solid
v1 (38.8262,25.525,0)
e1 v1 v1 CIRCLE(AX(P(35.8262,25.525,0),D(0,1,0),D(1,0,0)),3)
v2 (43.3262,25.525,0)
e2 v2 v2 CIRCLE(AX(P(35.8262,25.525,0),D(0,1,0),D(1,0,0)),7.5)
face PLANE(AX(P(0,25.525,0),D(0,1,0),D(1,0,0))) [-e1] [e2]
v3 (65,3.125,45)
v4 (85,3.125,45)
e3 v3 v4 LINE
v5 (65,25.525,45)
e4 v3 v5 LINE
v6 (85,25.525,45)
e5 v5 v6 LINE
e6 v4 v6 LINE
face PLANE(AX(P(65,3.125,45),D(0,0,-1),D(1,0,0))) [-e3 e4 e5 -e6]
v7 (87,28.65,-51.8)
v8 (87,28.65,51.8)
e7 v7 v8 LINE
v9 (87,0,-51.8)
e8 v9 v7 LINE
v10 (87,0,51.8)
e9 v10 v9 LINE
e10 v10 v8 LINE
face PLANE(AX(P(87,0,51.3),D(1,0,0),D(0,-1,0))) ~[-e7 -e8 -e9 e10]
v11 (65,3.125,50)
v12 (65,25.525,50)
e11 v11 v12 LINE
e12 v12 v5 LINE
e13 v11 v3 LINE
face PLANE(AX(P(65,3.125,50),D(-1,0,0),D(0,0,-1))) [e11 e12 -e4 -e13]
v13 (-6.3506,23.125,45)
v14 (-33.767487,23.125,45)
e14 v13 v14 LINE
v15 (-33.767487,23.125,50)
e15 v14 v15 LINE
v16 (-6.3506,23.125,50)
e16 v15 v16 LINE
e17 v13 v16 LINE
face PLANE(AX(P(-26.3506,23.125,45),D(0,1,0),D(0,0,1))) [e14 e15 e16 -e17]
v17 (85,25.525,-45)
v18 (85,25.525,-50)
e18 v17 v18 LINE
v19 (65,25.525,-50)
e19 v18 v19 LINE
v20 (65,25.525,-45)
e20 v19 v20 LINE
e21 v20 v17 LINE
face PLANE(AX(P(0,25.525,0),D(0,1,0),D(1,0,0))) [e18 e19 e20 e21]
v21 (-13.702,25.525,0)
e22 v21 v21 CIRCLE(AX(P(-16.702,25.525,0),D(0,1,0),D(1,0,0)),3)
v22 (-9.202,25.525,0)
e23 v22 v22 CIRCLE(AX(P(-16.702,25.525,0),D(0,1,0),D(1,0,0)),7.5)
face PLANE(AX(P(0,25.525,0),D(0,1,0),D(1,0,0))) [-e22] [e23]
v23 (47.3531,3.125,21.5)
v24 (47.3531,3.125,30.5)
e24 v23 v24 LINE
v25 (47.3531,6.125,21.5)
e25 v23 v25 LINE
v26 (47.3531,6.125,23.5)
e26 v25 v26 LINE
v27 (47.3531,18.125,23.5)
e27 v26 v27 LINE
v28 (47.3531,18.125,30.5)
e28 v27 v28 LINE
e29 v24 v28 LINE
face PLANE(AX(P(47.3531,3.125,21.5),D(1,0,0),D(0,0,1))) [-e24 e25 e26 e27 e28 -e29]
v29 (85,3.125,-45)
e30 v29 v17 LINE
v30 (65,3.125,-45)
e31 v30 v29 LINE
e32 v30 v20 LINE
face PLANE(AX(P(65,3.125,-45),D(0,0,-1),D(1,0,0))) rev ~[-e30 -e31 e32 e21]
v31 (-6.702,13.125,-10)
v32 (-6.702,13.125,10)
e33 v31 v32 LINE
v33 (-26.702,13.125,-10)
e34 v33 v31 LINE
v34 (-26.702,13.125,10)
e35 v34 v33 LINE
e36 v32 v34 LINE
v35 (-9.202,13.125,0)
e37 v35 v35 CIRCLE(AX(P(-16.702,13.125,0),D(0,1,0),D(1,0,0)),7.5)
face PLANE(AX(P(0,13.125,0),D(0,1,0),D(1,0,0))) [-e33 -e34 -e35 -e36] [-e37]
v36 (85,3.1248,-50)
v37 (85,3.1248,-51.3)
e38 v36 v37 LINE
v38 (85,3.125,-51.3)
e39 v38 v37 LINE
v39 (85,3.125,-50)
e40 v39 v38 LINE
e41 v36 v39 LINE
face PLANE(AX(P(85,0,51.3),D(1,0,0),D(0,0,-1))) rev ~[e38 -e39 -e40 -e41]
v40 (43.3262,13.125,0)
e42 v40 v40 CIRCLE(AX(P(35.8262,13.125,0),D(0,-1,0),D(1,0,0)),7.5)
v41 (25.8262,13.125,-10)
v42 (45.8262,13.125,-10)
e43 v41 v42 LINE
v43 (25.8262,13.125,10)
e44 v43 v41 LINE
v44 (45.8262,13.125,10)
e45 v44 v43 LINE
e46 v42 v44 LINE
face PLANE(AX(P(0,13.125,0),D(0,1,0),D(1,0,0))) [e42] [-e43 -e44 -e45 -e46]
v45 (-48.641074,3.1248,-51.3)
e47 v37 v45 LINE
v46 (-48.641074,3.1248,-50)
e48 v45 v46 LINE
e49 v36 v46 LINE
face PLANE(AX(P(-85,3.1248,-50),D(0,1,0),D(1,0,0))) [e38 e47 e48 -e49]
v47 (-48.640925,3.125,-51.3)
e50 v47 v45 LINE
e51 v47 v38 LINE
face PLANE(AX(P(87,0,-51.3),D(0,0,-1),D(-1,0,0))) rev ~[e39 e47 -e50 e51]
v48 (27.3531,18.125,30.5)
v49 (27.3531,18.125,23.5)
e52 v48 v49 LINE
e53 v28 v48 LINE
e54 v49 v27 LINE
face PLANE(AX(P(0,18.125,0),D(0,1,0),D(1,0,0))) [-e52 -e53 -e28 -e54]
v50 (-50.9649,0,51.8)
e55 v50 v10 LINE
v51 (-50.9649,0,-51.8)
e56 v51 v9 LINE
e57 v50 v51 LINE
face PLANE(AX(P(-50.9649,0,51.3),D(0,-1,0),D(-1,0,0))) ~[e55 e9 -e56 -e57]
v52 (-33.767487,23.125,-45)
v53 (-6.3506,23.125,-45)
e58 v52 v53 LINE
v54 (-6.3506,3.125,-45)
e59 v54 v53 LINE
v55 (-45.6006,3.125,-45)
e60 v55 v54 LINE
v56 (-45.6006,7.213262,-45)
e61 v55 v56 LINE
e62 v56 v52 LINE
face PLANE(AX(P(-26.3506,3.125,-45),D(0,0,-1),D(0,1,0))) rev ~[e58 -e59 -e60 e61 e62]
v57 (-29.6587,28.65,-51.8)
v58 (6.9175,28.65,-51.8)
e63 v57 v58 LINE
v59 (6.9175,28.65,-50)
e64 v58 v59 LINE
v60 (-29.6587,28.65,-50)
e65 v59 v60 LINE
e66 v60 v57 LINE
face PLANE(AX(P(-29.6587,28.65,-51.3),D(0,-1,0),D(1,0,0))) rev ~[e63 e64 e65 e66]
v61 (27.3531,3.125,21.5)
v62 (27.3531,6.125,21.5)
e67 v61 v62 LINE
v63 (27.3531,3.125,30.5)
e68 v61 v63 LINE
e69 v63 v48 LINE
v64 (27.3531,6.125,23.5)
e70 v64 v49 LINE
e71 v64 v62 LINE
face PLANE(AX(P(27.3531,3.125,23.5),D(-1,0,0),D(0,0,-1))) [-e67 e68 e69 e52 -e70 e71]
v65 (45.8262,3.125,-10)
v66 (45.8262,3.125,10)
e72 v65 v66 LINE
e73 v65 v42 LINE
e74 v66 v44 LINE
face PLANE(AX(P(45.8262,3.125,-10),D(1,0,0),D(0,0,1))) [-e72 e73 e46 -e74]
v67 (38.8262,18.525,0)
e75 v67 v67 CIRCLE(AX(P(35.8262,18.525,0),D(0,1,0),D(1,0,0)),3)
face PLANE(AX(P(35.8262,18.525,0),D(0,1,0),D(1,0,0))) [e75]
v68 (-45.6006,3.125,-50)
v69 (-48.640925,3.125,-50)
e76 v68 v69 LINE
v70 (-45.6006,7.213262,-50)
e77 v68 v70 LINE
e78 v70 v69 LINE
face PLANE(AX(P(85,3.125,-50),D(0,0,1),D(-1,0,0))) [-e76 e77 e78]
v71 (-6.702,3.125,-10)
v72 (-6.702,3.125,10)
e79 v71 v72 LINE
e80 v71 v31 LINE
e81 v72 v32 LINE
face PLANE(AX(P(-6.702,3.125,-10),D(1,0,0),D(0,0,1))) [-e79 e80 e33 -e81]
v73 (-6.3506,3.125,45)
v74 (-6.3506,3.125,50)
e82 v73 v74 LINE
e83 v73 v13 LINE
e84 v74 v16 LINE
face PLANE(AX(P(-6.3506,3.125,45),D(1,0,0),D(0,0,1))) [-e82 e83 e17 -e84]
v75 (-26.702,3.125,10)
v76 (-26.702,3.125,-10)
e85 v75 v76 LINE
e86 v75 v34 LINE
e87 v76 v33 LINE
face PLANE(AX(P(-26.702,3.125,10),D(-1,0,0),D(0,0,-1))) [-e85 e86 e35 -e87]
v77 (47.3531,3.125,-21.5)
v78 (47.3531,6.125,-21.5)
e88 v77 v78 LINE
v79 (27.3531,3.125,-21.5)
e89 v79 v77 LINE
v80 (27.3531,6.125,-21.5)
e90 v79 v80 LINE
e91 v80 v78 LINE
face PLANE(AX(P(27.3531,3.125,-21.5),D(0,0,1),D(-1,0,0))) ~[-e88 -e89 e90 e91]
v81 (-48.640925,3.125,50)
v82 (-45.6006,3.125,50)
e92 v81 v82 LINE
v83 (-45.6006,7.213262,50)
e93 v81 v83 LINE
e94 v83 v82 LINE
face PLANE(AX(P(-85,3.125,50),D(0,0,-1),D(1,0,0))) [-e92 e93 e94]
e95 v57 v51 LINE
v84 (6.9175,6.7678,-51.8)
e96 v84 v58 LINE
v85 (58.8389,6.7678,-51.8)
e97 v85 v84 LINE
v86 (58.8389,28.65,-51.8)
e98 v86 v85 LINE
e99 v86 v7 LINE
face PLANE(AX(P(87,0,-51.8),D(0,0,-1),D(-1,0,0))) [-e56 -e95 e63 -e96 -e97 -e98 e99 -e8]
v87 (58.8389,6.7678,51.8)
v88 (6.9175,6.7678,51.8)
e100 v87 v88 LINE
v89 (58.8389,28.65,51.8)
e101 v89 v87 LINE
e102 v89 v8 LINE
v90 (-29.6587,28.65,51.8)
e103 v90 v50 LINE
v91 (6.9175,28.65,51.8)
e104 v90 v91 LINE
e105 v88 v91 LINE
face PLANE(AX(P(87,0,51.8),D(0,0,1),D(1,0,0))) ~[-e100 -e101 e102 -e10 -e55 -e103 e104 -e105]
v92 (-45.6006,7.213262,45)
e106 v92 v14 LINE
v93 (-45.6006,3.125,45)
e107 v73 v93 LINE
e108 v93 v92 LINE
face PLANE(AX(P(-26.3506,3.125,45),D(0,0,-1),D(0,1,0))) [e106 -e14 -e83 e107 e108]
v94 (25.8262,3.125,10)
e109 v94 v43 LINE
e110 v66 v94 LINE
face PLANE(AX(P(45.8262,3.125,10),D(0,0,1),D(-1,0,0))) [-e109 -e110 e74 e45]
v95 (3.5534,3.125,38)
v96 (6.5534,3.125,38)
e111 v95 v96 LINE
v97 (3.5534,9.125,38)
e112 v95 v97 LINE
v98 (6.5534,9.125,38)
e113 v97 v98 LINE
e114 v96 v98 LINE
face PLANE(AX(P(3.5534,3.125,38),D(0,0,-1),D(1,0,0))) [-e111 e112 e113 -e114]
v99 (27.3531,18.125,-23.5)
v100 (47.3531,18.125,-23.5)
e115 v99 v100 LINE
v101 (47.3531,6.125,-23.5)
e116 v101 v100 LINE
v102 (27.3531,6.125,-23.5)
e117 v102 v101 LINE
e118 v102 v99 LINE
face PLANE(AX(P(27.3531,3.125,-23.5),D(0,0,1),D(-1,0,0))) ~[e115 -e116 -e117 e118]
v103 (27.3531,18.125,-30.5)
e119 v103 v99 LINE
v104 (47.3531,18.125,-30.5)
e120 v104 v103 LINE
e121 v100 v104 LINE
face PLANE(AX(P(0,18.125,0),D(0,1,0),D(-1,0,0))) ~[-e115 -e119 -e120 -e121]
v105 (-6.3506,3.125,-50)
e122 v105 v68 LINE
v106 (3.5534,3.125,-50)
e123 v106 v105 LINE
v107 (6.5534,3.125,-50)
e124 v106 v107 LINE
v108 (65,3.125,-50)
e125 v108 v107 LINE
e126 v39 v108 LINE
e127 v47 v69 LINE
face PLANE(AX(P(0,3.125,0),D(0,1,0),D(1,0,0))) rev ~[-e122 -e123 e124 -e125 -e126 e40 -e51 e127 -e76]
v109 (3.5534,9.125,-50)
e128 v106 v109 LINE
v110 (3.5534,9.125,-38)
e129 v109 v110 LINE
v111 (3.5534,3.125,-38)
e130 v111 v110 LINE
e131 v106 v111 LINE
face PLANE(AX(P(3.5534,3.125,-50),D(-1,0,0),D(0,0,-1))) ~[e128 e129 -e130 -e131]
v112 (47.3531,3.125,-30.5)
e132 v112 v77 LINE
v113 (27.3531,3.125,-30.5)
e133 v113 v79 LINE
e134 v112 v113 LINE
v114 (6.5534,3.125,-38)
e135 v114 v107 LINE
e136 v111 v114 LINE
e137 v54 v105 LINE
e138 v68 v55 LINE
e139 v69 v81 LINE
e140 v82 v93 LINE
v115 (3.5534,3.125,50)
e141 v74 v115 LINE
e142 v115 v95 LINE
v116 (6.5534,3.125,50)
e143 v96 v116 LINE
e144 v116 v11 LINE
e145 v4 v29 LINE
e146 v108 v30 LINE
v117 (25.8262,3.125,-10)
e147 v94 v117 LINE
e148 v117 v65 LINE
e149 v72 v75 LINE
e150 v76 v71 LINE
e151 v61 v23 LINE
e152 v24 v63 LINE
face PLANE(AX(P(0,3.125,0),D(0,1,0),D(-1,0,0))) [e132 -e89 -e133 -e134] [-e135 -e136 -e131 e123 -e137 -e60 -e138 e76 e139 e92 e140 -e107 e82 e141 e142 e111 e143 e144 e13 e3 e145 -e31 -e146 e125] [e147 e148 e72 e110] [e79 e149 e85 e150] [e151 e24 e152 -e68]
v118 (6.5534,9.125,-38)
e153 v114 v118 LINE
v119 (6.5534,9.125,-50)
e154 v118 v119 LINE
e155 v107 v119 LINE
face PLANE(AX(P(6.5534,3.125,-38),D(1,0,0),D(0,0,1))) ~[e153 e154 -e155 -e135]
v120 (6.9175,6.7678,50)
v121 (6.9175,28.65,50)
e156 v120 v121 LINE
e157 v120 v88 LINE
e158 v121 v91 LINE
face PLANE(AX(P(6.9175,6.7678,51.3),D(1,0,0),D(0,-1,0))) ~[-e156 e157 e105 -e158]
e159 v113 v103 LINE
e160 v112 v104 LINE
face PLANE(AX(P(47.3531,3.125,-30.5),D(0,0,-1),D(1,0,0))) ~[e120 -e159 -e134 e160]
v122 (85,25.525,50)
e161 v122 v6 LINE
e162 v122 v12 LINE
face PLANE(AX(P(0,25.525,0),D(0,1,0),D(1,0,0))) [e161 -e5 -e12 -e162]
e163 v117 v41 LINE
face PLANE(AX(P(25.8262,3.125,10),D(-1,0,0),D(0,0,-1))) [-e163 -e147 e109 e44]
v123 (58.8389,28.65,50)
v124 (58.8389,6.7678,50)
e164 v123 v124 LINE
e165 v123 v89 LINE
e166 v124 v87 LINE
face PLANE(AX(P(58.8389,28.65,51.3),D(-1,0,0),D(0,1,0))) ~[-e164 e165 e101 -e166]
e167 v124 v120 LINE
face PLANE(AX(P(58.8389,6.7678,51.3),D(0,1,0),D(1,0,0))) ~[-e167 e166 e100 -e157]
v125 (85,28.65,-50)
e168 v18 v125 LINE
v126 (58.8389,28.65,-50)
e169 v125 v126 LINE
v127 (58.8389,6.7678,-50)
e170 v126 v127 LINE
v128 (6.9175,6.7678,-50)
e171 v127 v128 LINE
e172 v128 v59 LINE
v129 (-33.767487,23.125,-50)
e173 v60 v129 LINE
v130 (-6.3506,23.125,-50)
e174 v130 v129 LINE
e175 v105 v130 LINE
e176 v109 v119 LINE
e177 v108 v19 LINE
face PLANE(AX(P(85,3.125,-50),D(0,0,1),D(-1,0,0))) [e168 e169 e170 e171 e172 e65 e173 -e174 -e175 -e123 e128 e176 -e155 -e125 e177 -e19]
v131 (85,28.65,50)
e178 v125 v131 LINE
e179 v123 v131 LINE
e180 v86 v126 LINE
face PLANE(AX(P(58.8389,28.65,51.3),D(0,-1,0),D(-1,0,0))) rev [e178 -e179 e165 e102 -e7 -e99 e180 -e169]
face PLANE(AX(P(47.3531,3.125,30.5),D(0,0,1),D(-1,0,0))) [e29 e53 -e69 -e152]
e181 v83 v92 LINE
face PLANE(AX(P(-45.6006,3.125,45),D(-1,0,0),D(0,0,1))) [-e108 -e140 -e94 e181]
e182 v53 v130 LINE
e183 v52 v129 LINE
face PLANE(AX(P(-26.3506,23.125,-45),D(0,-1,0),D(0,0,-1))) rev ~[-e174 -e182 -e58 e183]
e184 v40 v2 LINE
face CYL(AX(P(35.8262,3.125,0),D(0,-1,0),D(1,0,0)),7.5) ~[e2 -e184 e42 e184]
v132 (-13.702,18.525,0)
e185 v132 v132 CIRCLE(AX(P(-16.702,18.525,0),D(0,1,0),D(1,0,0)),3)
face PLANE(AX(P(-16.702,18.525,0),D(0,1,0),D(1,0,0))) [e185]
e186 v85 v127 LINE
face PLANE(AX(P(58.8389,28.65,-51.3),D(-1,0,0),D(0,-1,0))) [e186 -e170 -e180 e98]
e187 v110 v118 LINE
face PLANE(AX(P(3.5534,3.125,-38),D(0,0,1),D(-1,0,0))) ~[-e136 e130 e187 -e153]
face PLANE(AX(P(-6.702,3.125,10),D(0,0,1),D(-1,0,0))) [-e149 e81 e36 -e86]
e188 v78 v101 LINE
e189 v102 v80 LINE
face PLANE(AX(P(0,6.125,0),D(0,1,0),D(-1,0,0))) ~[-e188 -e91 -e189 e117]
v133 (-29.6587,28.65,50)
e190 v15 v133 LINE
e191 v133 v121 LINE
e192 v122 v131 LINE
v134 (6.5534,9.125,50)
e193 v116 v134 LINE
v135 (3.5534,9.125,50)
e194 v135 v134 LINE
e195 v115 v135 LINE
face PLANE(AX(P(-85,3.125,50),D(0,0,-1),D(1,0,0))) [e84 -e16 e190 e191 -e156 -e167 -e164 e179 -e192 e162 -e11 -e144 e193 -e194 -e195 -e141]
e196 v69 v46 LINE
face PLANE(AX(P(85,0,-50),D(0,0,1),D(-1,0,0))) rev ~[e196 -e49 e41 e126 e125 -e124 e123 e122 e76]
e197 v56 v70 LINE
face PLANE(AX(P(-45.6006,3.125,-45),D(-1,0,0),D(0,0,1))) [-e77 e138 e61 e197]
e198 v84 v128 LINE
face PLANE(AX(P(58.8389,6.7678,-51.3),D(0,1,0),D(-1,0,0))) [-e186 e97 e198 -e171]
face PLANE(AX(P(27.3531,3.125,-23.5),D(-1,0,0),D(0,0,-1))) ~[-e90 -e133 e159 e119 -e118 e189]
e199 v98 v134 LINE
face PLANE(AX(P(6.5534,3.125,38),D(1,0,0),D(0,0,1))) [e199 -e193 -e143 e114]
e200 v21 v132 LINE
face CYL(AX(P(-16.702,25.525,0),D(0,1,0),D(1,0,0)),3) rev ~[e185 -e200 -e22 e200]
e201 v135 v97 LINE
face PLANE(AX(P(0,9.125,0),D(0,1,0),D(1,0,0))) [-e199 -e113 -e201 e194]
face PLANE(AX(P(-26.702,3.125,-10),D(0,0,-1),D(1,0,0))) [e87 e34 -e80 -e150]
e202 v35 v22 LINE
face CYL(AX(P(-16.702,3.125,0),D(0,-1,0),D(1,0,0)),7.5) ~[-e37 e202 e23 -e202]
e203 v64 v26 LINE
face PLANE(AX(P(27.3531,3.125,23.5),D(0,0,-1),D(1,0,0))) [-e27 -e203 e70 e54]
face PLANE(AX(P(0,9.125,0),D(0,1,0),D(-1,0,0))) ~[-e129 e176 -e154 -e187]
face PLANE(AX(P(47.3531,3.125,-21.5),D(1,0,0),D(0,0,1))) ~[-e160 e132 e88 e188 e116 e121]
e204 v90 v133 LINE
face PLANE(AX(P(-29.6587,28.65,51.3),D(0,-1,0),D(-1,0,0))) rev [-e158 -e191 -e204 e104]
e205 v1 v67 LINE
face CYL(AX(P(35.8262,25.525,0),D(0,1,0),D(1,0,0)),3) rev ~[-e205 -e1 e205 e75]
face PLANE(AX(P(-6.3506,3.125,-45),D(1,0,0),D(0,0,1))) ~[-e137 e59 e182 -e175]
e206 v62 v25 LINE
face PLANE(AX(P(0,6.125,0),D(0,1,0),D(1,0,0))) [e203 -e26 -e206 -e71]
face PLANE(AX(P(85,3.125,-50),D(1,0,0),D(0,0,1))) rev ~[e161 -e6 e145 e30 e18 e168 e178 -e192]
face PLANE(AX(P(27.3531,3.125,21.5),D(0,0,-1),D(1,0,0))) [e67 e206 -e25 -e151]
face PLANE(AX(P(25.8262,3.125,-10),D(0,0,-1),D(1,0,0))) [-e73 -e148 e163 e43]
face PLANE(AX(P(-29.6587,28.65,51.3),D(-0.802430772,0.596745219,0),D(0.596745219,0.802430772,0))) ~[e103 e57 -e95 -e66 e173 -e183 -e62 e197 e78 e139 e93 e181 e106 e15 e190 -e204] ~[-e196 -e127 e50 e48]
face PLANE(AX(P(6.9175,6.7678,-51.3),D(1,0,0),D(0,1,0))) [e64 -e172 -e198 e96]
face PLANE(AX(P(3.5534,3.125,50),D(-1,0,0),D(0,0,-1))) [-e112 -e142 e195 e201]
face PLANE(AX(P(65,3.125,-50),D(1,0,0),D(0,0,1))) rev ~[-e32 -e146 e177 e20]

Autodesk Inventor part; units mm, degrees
ref_plane "YZ Plane" through (0, 0, 0) normal (1, 0, 0) x (0, 1, 0)
ref_plane "XZ Plane" through (0, 0, 0) normal (0, 1, 0) x (-1, 0, 0)
ref_plane "XY Plane" through (0, 0, 0) normal (0, 0, 1) x (1, 0, 0)
sketch "Sketch1" plane through (0, 0, 0) normal (0, 1, 0) x (-1, 0, 0)
  line L0 (85, 50) -> (-85, 50)
  line L1 (-85, 50) -> (-85, -50)
  line L2 (-85, -50) -> (85, -50)
  line L3 (85, -50) -> (85, 50)
  line L4 (85, 50) -> (-85, -50) construction
  line L5 (-85, 50) -> (85, -50) construction
  point P0 (0, 0)
  dimension "d0" = 170
  dimension "d1" = 100
extrude "Extrusion1" add sketch "Sketch1" along normal blind 3.125
sketch "Sketch2" plane through (0, 3.125, 0) normal (0, 1, 0) x (1, 0, 0)
  line L0 (-26.702, 10) -> (-6.702, 10)
  line L1 (-6.702, 10) -> (-6.702, -10)
  line L2 (-6.702, -10) -> (-26.702, -10)
  line L3 (-26.702, -10) -> (-26.702, 10)
  line L4 (-26.702, 10) -> (-6.702, -10) construction
  line L5 (-6.702, 10) -> (-26.702, -10) construction
  circle A0 centre (-16.702, 0) radius 7.5
  line L6 (25.8262, 10) -> (45.8262, 10)
  line L7 (45.8262, 10) -> (45.8262, -10)
  line L8 (45.8262, -10) -> (25.8262, -10)
  line L9 (25.8262, -10) -> (25.8262, 10)
  line L10 (25.8262, 10) -> (45.8262, -10) construction
  line L11 (45.8262, 10) -> (25.8262, -10) construction
  circle A1 centre (35.8262, 0) radius 7.5
  line L12 (0.1504, 0) -> (2.6516, 0) construction
  point P0 (0, 0)
  dimension "d13" = 0
  dimension "d4" = 20
  dimension "d5" = 20
  dimension "d6" = 15
  dimension "d14" = 20
  dimension "d15" = 20
  dimension "d16" = 15
extrude "Extrusion2" add sketch "Sketch2" along normal blind 22.4 contours A0 | A1
extrude "Extrusion3" add sketch "Sketch2" along normal blind 10 contours L0 L1 L2 L3 | L6 L7 L8 L9 | A1
sketch "Sketch3" plane through (-16.702, 25.525, 0) normal (0, 1, 0) x (1, 0, 0)
  circle A0 centre (0, 0) radius 3
  point P0 (16.702, 0)
  dimension "d11" = 6
extrude "Extrusion4" cut sketch "Sketch3" against normal blind 7
sketch "Sketch4" plane through (35.8262, 25.525, 0) normal (0, 1, 0) x (1, 0, 0)
  circle A0 centre (0, 0) radius 3
  point P0 (-35.8262, 0)
  dimension "d17" = 6
extrude "Extrusion5" cut sketch "Sketch4" against normal blind 7
sketch "Sketch5" plane through (0, 3.125, 0) normal (0, 1, 0) x (1, 0, 0)
  line L0 (85, 50) -> (-85, 50) projected
  line L1 (-85, 50) -> (85, 50)
  line L2 (85, 50) -> (85, 51.3)
  line L3 (85, 51.3) -> (-85, 51.3)
  line L4 (-85, 51.3) -> (-85, 50)
  line L5 (-85, -50) -> (85, -50) projected
  line L6 (-85, -50) -> (85, -50)
  line L7 (85, -50) -> (85, -51.3)
  line L8 (85, -51.3) -> (-85, -51.3)
  line L9 (-85, -51.3) -> (-85, -50)
  line L10 (85, -51.3) -> (87, -51.3)
  line L11 (87, -51.3) -> (87, 51.3)
  line L12 (87, 51.3) -> (85, 51.3)
  line L13 (85, 51.3) -> (85, -51.3)
  point P0 (0, 0)
  point P1 (85, -50)
  dimension "d20" = 1.3
  dimension "d21" = 1.3
  dimension "d22" = 2
extrude "Extrusion6" add sketch "Sketch5" along normal blind 25.525
sketch "Sketch6" plane through (-85, 0, 50) normal (0, 0, 1) x (1, 0, 0)
  line L0 (170, 0) -> (0, 0) projected
  line L1 (170, 0) -> (170, 3.125) projected
  line L2 (0, 0) -> (170, 0)
  line L3 (170, 0) -> (170, 3.125)
  line L4 (170, 3.125) -> (0, 3.125)
  line L5 (0, 3.125) -> (0, 0)
  point P0 (85, 0)
extrude "Extrusion7" add sketch "Sketch6" along normal blind 1.3
sketch "Sketch7" plane through (85, 0, -50) normal (0, 0, -1) x (-1, 0, 0)
  line L0 (0, 0) -> (0, 3.125) projected
  line L1 (170, 0) -> (170, 28.65) projected
  line L2 (0, 0) -> (170, 0)
  line L3 (170, 0) -> (170, 2.2028)
  line L4 (170, 2.2028) -> (0, 2.2028)
  line L5 (0, 2.2028) -> (0, 0)
extrude "Extrusion8" add sketch "Sketch7" along normal blind 1.3
sketch "Sketch8" plane through (85, 0, 51.3) normal (1, 0, 0) x (0, 0, -1)
  line L0 (0, 0) -> (0, 3.125) projected
  line L1 (0, 0) -> (102.6, 0) projected
  line L2 (0, 3.125) -> (102.6, 3.125)
  line L3 (102.6, 3.125) -> (102.6, 0)
  line L4 (102.6, 0) -> (0, 0)
  line L5 (0, 0) -> (0, 3.125)
  point P0 (51.3, 0)
extrude "Extrusion9" add sketch "Sketch8" along normal blind 2
sketch "Sketch9" plane through (0, 3.125, 0) normal (0, 1, 0) x (1, 0, 0)
  line L0 (85, -50) -> (85, 50) projected
  line L1 (85, 50) -> (65, 50)
  line L2 (65, 50) -> (65, 45)
  line L3 (65, 45) -> (85, 45)
  line L4 (85, 45) -> (85, 50)
  line L5 (85, -50) -> (65, -50)
  line L6 (65, -50) -> (65, -45)
  line L7 (65, -45) -> (85, -45)
  line L8 (85, -45) -> (85, -50)
  point P0 (0, 0)
  dimension "d31" = 20
  dimension "d32" = 5
  dimension "d33" = 20
  dimension "d34" = 5
extrude "Extrusion10" add sketch "Sketch9" along normal blind 22.4
sketch "Sketch10" plane through (-85, 3.125, 50) normal (0, 0, -1) x (-1, 0, 0)
  line L0 (-170, 25.525) -> (0, 25.525) projected
  line L1 (-143.8389, 3.6428) -> (-91.9175, 3.6428)
  line L2 (-91.9175, 3.6428) -> (-91.9175, 25.525)
  line L3 (-91.9175, 25.525) -> (-143.8389, 25.525)
  line L4 (-143.8389, 25.525) -> (-143.8389, 3.6428)
  point P0 (-150, 27.4)
  point P1 (-143.8389, 25.525)
extrude "Extrusion11" cut sketch "Sketch10" against normal blind 27.4
mirror "Mirror1" about plane through (0, 0, 0) normal (0, 0, 1) of "Extrusion11"
sketch "Sketch11" plane through (0, 3.125, 0) normal (0, 1, 0) x (1, 0, 0)
  line L0 (47.3531, -30.5) -> (27.3531, -30.5)
  line L1 (27.3531, -30.5) -> (27.3531, -23.5)
  line L2 (27.3531, -23.5) -> (47.3531, -23.5)
  line L3 (47.3531, -23.5) -> (47.3531, -30.5)
  line L4 (-85, -50) -> (65, -50) projected
  point P0 (0, 0)
  dimension "d39" = 7
  dimension "d42" = 19.5
  dimension "d43" = 20
extrude "Extrusion12" add sketch "Sketch11" along normal blind 15
sketch "Sketch12" plane through (0, 3.125, 0) normal (0, 1, 0) x (1, 0, 0)
  line L0 (27.3531, -23.5) -> (47.3531, -23.5) projected
  line L1 (47.3531, -23.5) -> (27.3531, -23.5)
  line L2 (27.3531, -23.5) -> (27.3531, -21.5)
  line L3 (27.3531, -21.5) -> (47.3531, -21.5)
  line L4 (47.3531, -21.5) -> (47.3531, -23.5)
  point P0 (0, 0)
  dimension "d44" = 2
extrude "Extrusion13" add sketch "Sketch12" along normal blind 3
mirror "Mirror2" about plane through (0, 0, 0) normal (0, 0, 1) of "Extrusion12", "Extrusion13"
sketch "Sketch13" plane through (0, 3.125, 0) normal (0, 1, 0) x (1, 0, 0)
  line L0 (-85, -50) -> (65, -50) projected
  line L1 (6.5534, -50) -> (3.5534, -50)
  line L2 (3.5534, -50) -> (3.5534, -38)
  line L3 (3.5534, -38) -> (6.5534, -38)
  line L4 (6.5534, -38) -> (6.5534, -50)
  point P0 (0, 0)
  dimension "d47" = 3
  dimension "d48" = 12
extrude "Extrusion14" add sketch "Sketch13" along normal blind 6
mirror "Mirror3" about plane through (0, 0, 0) normal (0, 0, 1) of "Extrusion14"
sketch "Sketch14" plane through (0, 3.125, 0) normal (0, 1, 0) x (1, 0, 0)
  line L0 (-85, -50) -> (3.5534, -50) projected
  line L1 (-6.3506, -50) -> (-26.3506, -50)
  line L2 (-26.3506, -50) -> (-26.3506, -45)
  line L3 (-26.3506, -45) -> (-6.3506, -45)
  line L4 (-6.3506, -45) -> (-6.3506, -50)
  point P0 (0, 0)
  dimension "d51" = 20
  dimension "d52" = 5
extrude "Extrusion15" add sketch "Sketch14" along normal blind 20
mirror "Mirror4" about plane through (0, 0, 0) normal (0, 0, 1) of "Extrusion15"
sketch "Sketch15" plane through (-85, 3.125, 50) normal (0, 0, -1) x (-1, 0, 0)
  line L0 (0, 0) -> (-58.6494, 0) projected
  line L1 (-91.9175, 25.525) -> (0, 25.525) projected
  line L2 (0, 0) -> (-30.3469, 0)
  line L3 (-30.3469, 0) -> (-30.3469, 25.525)
  line L4 (-30.3469, 25.525) -> (0, 25.525)
  line L5 (0, 25.525) -> (0, 0)
  point P0 (-85, -3.125)
  point P1 (0, 25.525)
  point P2 (-30.3469, 0)
extrude "Extrusion16" cut sketch "Sketch15" against normal blind 20
mirror "Mirror5" about plane through (0, 0, 0) normal (0, 0, 1) of "Extrusion16"
sketch "Sketch17" plane through (-85, 2.2028, -50) normal (0, 1, 0) x (1, 0, 0)
  line L0 (170, 0) -> (0, 0) projected
  line L1 (0, 0) -> (170, 0)
  line L2 (170, 0) -> (170, 1.3)
  line L3 (170, 1.3) -> (0, 1.3)
  line L4 (0, 1.3) -> (0, 0)
  point P0 (85, -50)
extrude "Extrusion19" add sketch "Sketch17" along normal blind 0.922
sketch "Sketch18" plane through (0, 28.65, 0) normal (0, 1, 0) x (1, 0, 0)
  line L0 (85, 51.3) -> (-85, 51.3) projected
  line L1 (-85, -51.3) -> (87, -51.3) projected
  line L2 (-85, 51.3) -> (-50.9649, 51.3)
  line L3 (-50.9649, 51.3) -> (-50.9649, -51.3)
  line L4 (-50.9649, -51.3) -> (-85, -51.3)
  line L5 (-85, -51.3) -> (-85, 51.3)
  point P0 (0, 0)
extrude "Extrusion20" cut sketch "Sketch18" against normal blind 125.922
sketch "Sketch24" plane through (-26.3506, 3.125, 45) normal (-1, 0, 0) x (0, 0, 1)
  line L0 (0, 20) -> (5, 20) projected
  line L1 (5, 0) -> (0, 0)
  line L2 (0, 0) -> (0, 20)
  line L3 (0, 20) -> (5, 20)
  line L4 (5, 20) -> (5, 0)
  point P0 (-45, -3.125)
extrude "Extrusion26" add sketch "Sketch24" along normal blind 19.25
sketch "Sketch25" plane through (-26.3506, 3.125, -45) normal (-1, 0, 0) x (0, 0, 1)
  line L0 (-5, 0) -> (-5, 20) projected
  line L1 (-5, 0) -> (0, 0)
  line L2 (0, 0) -> (0, 20)
  line L3 (0, 20) -> (-5, 20)
  line L4 (-5, 20) -> (-5, 0)
  point P0 (45, -3.125)
extrude "Extrusion27" add sketch "Sketch25" along normal blind 19.25
sketch "Sketch26" plane through (87, 0, 51.3) normal (0, 0, 1) x (1, 0, 0)
  line L0 (-137.9649, 0) -> (0, 0) projected
  line L1 (-137.9649, 0) -> (-116.6587, 0)
  line L2 (-116.6587, 0) -> (-116.6587, 28.65)
  line L3 (-137.9649, 28.65) -> (-80.0825, 28.65) projected
  line L4 (-116.6587, 28.65) -> (-137.9649, 0)
  line L5 (-137.9649, 28.65) -> (-137.9649, 3.125) projected
  line L6 (-116.6587, 28.65) -> (-137.9649, 28.65)
  line L7 (-137.9649, 28.65) -> (-137.9649, 0)
  point P0 (-87, 0)
  point P1 (-137.9649, 3.125)
extrude "Extrusion28" cut sketch "Sketch26" against normal blind 133 contours L7 L5 L3 L4
sketch "Sketch29" plane through (87, 0, -51.3) normal (0, 0, -1) x (-1, 0, 0)
  line L0 (0, 0) -> (0, 28.65) projected
  line L1 (28.1611, 28.65) -> (0, 28.65) projected
  line L2 (0, 0) -> (0, 28.65)
  line L3 (28.1611, 28.65) -> (28.1611, 6.7678) projected
  line L4 (0, 28.65) -> (28.1611, 28.65)
  line L5 (28.1611, 28.65) -> (28.1611, 6.7678)
  line L6 (80.4466, 3.125) -> (80.4466, 9.125) projected
  line L7 (28.1611, 6.7678) -> (80.0825, 6.7678) projected
  line L8 (80.0825, 6.7678) -> (28.1611, 6.7678)
  line L9 (116.6587, 28.65) -> (80.0825, 28.65) projected
  line L10 (80.0825, 6.7678) -> (80.0825, 28.65)
  line L11 (80.0825, 28.65) -> (116.6587, 28.65)
  line L12 (116.6587, 28.65) -> (137.9649, 0) projected
  line L13 (116.6587, 28.65) -> (137.9649, 0)
  line L14 (137.9649, 0) -> (0, 0)
  point P0 (87, 0)
extrude "Extrusion31" add sketch "Sketch29" along normal blind 0.5
mirror "Mirror6" about plane through (0, 0, 0) normal (0, 0, 1) of "Extrusion31"
properties part number "Sujeta_motor_3DPrint"
